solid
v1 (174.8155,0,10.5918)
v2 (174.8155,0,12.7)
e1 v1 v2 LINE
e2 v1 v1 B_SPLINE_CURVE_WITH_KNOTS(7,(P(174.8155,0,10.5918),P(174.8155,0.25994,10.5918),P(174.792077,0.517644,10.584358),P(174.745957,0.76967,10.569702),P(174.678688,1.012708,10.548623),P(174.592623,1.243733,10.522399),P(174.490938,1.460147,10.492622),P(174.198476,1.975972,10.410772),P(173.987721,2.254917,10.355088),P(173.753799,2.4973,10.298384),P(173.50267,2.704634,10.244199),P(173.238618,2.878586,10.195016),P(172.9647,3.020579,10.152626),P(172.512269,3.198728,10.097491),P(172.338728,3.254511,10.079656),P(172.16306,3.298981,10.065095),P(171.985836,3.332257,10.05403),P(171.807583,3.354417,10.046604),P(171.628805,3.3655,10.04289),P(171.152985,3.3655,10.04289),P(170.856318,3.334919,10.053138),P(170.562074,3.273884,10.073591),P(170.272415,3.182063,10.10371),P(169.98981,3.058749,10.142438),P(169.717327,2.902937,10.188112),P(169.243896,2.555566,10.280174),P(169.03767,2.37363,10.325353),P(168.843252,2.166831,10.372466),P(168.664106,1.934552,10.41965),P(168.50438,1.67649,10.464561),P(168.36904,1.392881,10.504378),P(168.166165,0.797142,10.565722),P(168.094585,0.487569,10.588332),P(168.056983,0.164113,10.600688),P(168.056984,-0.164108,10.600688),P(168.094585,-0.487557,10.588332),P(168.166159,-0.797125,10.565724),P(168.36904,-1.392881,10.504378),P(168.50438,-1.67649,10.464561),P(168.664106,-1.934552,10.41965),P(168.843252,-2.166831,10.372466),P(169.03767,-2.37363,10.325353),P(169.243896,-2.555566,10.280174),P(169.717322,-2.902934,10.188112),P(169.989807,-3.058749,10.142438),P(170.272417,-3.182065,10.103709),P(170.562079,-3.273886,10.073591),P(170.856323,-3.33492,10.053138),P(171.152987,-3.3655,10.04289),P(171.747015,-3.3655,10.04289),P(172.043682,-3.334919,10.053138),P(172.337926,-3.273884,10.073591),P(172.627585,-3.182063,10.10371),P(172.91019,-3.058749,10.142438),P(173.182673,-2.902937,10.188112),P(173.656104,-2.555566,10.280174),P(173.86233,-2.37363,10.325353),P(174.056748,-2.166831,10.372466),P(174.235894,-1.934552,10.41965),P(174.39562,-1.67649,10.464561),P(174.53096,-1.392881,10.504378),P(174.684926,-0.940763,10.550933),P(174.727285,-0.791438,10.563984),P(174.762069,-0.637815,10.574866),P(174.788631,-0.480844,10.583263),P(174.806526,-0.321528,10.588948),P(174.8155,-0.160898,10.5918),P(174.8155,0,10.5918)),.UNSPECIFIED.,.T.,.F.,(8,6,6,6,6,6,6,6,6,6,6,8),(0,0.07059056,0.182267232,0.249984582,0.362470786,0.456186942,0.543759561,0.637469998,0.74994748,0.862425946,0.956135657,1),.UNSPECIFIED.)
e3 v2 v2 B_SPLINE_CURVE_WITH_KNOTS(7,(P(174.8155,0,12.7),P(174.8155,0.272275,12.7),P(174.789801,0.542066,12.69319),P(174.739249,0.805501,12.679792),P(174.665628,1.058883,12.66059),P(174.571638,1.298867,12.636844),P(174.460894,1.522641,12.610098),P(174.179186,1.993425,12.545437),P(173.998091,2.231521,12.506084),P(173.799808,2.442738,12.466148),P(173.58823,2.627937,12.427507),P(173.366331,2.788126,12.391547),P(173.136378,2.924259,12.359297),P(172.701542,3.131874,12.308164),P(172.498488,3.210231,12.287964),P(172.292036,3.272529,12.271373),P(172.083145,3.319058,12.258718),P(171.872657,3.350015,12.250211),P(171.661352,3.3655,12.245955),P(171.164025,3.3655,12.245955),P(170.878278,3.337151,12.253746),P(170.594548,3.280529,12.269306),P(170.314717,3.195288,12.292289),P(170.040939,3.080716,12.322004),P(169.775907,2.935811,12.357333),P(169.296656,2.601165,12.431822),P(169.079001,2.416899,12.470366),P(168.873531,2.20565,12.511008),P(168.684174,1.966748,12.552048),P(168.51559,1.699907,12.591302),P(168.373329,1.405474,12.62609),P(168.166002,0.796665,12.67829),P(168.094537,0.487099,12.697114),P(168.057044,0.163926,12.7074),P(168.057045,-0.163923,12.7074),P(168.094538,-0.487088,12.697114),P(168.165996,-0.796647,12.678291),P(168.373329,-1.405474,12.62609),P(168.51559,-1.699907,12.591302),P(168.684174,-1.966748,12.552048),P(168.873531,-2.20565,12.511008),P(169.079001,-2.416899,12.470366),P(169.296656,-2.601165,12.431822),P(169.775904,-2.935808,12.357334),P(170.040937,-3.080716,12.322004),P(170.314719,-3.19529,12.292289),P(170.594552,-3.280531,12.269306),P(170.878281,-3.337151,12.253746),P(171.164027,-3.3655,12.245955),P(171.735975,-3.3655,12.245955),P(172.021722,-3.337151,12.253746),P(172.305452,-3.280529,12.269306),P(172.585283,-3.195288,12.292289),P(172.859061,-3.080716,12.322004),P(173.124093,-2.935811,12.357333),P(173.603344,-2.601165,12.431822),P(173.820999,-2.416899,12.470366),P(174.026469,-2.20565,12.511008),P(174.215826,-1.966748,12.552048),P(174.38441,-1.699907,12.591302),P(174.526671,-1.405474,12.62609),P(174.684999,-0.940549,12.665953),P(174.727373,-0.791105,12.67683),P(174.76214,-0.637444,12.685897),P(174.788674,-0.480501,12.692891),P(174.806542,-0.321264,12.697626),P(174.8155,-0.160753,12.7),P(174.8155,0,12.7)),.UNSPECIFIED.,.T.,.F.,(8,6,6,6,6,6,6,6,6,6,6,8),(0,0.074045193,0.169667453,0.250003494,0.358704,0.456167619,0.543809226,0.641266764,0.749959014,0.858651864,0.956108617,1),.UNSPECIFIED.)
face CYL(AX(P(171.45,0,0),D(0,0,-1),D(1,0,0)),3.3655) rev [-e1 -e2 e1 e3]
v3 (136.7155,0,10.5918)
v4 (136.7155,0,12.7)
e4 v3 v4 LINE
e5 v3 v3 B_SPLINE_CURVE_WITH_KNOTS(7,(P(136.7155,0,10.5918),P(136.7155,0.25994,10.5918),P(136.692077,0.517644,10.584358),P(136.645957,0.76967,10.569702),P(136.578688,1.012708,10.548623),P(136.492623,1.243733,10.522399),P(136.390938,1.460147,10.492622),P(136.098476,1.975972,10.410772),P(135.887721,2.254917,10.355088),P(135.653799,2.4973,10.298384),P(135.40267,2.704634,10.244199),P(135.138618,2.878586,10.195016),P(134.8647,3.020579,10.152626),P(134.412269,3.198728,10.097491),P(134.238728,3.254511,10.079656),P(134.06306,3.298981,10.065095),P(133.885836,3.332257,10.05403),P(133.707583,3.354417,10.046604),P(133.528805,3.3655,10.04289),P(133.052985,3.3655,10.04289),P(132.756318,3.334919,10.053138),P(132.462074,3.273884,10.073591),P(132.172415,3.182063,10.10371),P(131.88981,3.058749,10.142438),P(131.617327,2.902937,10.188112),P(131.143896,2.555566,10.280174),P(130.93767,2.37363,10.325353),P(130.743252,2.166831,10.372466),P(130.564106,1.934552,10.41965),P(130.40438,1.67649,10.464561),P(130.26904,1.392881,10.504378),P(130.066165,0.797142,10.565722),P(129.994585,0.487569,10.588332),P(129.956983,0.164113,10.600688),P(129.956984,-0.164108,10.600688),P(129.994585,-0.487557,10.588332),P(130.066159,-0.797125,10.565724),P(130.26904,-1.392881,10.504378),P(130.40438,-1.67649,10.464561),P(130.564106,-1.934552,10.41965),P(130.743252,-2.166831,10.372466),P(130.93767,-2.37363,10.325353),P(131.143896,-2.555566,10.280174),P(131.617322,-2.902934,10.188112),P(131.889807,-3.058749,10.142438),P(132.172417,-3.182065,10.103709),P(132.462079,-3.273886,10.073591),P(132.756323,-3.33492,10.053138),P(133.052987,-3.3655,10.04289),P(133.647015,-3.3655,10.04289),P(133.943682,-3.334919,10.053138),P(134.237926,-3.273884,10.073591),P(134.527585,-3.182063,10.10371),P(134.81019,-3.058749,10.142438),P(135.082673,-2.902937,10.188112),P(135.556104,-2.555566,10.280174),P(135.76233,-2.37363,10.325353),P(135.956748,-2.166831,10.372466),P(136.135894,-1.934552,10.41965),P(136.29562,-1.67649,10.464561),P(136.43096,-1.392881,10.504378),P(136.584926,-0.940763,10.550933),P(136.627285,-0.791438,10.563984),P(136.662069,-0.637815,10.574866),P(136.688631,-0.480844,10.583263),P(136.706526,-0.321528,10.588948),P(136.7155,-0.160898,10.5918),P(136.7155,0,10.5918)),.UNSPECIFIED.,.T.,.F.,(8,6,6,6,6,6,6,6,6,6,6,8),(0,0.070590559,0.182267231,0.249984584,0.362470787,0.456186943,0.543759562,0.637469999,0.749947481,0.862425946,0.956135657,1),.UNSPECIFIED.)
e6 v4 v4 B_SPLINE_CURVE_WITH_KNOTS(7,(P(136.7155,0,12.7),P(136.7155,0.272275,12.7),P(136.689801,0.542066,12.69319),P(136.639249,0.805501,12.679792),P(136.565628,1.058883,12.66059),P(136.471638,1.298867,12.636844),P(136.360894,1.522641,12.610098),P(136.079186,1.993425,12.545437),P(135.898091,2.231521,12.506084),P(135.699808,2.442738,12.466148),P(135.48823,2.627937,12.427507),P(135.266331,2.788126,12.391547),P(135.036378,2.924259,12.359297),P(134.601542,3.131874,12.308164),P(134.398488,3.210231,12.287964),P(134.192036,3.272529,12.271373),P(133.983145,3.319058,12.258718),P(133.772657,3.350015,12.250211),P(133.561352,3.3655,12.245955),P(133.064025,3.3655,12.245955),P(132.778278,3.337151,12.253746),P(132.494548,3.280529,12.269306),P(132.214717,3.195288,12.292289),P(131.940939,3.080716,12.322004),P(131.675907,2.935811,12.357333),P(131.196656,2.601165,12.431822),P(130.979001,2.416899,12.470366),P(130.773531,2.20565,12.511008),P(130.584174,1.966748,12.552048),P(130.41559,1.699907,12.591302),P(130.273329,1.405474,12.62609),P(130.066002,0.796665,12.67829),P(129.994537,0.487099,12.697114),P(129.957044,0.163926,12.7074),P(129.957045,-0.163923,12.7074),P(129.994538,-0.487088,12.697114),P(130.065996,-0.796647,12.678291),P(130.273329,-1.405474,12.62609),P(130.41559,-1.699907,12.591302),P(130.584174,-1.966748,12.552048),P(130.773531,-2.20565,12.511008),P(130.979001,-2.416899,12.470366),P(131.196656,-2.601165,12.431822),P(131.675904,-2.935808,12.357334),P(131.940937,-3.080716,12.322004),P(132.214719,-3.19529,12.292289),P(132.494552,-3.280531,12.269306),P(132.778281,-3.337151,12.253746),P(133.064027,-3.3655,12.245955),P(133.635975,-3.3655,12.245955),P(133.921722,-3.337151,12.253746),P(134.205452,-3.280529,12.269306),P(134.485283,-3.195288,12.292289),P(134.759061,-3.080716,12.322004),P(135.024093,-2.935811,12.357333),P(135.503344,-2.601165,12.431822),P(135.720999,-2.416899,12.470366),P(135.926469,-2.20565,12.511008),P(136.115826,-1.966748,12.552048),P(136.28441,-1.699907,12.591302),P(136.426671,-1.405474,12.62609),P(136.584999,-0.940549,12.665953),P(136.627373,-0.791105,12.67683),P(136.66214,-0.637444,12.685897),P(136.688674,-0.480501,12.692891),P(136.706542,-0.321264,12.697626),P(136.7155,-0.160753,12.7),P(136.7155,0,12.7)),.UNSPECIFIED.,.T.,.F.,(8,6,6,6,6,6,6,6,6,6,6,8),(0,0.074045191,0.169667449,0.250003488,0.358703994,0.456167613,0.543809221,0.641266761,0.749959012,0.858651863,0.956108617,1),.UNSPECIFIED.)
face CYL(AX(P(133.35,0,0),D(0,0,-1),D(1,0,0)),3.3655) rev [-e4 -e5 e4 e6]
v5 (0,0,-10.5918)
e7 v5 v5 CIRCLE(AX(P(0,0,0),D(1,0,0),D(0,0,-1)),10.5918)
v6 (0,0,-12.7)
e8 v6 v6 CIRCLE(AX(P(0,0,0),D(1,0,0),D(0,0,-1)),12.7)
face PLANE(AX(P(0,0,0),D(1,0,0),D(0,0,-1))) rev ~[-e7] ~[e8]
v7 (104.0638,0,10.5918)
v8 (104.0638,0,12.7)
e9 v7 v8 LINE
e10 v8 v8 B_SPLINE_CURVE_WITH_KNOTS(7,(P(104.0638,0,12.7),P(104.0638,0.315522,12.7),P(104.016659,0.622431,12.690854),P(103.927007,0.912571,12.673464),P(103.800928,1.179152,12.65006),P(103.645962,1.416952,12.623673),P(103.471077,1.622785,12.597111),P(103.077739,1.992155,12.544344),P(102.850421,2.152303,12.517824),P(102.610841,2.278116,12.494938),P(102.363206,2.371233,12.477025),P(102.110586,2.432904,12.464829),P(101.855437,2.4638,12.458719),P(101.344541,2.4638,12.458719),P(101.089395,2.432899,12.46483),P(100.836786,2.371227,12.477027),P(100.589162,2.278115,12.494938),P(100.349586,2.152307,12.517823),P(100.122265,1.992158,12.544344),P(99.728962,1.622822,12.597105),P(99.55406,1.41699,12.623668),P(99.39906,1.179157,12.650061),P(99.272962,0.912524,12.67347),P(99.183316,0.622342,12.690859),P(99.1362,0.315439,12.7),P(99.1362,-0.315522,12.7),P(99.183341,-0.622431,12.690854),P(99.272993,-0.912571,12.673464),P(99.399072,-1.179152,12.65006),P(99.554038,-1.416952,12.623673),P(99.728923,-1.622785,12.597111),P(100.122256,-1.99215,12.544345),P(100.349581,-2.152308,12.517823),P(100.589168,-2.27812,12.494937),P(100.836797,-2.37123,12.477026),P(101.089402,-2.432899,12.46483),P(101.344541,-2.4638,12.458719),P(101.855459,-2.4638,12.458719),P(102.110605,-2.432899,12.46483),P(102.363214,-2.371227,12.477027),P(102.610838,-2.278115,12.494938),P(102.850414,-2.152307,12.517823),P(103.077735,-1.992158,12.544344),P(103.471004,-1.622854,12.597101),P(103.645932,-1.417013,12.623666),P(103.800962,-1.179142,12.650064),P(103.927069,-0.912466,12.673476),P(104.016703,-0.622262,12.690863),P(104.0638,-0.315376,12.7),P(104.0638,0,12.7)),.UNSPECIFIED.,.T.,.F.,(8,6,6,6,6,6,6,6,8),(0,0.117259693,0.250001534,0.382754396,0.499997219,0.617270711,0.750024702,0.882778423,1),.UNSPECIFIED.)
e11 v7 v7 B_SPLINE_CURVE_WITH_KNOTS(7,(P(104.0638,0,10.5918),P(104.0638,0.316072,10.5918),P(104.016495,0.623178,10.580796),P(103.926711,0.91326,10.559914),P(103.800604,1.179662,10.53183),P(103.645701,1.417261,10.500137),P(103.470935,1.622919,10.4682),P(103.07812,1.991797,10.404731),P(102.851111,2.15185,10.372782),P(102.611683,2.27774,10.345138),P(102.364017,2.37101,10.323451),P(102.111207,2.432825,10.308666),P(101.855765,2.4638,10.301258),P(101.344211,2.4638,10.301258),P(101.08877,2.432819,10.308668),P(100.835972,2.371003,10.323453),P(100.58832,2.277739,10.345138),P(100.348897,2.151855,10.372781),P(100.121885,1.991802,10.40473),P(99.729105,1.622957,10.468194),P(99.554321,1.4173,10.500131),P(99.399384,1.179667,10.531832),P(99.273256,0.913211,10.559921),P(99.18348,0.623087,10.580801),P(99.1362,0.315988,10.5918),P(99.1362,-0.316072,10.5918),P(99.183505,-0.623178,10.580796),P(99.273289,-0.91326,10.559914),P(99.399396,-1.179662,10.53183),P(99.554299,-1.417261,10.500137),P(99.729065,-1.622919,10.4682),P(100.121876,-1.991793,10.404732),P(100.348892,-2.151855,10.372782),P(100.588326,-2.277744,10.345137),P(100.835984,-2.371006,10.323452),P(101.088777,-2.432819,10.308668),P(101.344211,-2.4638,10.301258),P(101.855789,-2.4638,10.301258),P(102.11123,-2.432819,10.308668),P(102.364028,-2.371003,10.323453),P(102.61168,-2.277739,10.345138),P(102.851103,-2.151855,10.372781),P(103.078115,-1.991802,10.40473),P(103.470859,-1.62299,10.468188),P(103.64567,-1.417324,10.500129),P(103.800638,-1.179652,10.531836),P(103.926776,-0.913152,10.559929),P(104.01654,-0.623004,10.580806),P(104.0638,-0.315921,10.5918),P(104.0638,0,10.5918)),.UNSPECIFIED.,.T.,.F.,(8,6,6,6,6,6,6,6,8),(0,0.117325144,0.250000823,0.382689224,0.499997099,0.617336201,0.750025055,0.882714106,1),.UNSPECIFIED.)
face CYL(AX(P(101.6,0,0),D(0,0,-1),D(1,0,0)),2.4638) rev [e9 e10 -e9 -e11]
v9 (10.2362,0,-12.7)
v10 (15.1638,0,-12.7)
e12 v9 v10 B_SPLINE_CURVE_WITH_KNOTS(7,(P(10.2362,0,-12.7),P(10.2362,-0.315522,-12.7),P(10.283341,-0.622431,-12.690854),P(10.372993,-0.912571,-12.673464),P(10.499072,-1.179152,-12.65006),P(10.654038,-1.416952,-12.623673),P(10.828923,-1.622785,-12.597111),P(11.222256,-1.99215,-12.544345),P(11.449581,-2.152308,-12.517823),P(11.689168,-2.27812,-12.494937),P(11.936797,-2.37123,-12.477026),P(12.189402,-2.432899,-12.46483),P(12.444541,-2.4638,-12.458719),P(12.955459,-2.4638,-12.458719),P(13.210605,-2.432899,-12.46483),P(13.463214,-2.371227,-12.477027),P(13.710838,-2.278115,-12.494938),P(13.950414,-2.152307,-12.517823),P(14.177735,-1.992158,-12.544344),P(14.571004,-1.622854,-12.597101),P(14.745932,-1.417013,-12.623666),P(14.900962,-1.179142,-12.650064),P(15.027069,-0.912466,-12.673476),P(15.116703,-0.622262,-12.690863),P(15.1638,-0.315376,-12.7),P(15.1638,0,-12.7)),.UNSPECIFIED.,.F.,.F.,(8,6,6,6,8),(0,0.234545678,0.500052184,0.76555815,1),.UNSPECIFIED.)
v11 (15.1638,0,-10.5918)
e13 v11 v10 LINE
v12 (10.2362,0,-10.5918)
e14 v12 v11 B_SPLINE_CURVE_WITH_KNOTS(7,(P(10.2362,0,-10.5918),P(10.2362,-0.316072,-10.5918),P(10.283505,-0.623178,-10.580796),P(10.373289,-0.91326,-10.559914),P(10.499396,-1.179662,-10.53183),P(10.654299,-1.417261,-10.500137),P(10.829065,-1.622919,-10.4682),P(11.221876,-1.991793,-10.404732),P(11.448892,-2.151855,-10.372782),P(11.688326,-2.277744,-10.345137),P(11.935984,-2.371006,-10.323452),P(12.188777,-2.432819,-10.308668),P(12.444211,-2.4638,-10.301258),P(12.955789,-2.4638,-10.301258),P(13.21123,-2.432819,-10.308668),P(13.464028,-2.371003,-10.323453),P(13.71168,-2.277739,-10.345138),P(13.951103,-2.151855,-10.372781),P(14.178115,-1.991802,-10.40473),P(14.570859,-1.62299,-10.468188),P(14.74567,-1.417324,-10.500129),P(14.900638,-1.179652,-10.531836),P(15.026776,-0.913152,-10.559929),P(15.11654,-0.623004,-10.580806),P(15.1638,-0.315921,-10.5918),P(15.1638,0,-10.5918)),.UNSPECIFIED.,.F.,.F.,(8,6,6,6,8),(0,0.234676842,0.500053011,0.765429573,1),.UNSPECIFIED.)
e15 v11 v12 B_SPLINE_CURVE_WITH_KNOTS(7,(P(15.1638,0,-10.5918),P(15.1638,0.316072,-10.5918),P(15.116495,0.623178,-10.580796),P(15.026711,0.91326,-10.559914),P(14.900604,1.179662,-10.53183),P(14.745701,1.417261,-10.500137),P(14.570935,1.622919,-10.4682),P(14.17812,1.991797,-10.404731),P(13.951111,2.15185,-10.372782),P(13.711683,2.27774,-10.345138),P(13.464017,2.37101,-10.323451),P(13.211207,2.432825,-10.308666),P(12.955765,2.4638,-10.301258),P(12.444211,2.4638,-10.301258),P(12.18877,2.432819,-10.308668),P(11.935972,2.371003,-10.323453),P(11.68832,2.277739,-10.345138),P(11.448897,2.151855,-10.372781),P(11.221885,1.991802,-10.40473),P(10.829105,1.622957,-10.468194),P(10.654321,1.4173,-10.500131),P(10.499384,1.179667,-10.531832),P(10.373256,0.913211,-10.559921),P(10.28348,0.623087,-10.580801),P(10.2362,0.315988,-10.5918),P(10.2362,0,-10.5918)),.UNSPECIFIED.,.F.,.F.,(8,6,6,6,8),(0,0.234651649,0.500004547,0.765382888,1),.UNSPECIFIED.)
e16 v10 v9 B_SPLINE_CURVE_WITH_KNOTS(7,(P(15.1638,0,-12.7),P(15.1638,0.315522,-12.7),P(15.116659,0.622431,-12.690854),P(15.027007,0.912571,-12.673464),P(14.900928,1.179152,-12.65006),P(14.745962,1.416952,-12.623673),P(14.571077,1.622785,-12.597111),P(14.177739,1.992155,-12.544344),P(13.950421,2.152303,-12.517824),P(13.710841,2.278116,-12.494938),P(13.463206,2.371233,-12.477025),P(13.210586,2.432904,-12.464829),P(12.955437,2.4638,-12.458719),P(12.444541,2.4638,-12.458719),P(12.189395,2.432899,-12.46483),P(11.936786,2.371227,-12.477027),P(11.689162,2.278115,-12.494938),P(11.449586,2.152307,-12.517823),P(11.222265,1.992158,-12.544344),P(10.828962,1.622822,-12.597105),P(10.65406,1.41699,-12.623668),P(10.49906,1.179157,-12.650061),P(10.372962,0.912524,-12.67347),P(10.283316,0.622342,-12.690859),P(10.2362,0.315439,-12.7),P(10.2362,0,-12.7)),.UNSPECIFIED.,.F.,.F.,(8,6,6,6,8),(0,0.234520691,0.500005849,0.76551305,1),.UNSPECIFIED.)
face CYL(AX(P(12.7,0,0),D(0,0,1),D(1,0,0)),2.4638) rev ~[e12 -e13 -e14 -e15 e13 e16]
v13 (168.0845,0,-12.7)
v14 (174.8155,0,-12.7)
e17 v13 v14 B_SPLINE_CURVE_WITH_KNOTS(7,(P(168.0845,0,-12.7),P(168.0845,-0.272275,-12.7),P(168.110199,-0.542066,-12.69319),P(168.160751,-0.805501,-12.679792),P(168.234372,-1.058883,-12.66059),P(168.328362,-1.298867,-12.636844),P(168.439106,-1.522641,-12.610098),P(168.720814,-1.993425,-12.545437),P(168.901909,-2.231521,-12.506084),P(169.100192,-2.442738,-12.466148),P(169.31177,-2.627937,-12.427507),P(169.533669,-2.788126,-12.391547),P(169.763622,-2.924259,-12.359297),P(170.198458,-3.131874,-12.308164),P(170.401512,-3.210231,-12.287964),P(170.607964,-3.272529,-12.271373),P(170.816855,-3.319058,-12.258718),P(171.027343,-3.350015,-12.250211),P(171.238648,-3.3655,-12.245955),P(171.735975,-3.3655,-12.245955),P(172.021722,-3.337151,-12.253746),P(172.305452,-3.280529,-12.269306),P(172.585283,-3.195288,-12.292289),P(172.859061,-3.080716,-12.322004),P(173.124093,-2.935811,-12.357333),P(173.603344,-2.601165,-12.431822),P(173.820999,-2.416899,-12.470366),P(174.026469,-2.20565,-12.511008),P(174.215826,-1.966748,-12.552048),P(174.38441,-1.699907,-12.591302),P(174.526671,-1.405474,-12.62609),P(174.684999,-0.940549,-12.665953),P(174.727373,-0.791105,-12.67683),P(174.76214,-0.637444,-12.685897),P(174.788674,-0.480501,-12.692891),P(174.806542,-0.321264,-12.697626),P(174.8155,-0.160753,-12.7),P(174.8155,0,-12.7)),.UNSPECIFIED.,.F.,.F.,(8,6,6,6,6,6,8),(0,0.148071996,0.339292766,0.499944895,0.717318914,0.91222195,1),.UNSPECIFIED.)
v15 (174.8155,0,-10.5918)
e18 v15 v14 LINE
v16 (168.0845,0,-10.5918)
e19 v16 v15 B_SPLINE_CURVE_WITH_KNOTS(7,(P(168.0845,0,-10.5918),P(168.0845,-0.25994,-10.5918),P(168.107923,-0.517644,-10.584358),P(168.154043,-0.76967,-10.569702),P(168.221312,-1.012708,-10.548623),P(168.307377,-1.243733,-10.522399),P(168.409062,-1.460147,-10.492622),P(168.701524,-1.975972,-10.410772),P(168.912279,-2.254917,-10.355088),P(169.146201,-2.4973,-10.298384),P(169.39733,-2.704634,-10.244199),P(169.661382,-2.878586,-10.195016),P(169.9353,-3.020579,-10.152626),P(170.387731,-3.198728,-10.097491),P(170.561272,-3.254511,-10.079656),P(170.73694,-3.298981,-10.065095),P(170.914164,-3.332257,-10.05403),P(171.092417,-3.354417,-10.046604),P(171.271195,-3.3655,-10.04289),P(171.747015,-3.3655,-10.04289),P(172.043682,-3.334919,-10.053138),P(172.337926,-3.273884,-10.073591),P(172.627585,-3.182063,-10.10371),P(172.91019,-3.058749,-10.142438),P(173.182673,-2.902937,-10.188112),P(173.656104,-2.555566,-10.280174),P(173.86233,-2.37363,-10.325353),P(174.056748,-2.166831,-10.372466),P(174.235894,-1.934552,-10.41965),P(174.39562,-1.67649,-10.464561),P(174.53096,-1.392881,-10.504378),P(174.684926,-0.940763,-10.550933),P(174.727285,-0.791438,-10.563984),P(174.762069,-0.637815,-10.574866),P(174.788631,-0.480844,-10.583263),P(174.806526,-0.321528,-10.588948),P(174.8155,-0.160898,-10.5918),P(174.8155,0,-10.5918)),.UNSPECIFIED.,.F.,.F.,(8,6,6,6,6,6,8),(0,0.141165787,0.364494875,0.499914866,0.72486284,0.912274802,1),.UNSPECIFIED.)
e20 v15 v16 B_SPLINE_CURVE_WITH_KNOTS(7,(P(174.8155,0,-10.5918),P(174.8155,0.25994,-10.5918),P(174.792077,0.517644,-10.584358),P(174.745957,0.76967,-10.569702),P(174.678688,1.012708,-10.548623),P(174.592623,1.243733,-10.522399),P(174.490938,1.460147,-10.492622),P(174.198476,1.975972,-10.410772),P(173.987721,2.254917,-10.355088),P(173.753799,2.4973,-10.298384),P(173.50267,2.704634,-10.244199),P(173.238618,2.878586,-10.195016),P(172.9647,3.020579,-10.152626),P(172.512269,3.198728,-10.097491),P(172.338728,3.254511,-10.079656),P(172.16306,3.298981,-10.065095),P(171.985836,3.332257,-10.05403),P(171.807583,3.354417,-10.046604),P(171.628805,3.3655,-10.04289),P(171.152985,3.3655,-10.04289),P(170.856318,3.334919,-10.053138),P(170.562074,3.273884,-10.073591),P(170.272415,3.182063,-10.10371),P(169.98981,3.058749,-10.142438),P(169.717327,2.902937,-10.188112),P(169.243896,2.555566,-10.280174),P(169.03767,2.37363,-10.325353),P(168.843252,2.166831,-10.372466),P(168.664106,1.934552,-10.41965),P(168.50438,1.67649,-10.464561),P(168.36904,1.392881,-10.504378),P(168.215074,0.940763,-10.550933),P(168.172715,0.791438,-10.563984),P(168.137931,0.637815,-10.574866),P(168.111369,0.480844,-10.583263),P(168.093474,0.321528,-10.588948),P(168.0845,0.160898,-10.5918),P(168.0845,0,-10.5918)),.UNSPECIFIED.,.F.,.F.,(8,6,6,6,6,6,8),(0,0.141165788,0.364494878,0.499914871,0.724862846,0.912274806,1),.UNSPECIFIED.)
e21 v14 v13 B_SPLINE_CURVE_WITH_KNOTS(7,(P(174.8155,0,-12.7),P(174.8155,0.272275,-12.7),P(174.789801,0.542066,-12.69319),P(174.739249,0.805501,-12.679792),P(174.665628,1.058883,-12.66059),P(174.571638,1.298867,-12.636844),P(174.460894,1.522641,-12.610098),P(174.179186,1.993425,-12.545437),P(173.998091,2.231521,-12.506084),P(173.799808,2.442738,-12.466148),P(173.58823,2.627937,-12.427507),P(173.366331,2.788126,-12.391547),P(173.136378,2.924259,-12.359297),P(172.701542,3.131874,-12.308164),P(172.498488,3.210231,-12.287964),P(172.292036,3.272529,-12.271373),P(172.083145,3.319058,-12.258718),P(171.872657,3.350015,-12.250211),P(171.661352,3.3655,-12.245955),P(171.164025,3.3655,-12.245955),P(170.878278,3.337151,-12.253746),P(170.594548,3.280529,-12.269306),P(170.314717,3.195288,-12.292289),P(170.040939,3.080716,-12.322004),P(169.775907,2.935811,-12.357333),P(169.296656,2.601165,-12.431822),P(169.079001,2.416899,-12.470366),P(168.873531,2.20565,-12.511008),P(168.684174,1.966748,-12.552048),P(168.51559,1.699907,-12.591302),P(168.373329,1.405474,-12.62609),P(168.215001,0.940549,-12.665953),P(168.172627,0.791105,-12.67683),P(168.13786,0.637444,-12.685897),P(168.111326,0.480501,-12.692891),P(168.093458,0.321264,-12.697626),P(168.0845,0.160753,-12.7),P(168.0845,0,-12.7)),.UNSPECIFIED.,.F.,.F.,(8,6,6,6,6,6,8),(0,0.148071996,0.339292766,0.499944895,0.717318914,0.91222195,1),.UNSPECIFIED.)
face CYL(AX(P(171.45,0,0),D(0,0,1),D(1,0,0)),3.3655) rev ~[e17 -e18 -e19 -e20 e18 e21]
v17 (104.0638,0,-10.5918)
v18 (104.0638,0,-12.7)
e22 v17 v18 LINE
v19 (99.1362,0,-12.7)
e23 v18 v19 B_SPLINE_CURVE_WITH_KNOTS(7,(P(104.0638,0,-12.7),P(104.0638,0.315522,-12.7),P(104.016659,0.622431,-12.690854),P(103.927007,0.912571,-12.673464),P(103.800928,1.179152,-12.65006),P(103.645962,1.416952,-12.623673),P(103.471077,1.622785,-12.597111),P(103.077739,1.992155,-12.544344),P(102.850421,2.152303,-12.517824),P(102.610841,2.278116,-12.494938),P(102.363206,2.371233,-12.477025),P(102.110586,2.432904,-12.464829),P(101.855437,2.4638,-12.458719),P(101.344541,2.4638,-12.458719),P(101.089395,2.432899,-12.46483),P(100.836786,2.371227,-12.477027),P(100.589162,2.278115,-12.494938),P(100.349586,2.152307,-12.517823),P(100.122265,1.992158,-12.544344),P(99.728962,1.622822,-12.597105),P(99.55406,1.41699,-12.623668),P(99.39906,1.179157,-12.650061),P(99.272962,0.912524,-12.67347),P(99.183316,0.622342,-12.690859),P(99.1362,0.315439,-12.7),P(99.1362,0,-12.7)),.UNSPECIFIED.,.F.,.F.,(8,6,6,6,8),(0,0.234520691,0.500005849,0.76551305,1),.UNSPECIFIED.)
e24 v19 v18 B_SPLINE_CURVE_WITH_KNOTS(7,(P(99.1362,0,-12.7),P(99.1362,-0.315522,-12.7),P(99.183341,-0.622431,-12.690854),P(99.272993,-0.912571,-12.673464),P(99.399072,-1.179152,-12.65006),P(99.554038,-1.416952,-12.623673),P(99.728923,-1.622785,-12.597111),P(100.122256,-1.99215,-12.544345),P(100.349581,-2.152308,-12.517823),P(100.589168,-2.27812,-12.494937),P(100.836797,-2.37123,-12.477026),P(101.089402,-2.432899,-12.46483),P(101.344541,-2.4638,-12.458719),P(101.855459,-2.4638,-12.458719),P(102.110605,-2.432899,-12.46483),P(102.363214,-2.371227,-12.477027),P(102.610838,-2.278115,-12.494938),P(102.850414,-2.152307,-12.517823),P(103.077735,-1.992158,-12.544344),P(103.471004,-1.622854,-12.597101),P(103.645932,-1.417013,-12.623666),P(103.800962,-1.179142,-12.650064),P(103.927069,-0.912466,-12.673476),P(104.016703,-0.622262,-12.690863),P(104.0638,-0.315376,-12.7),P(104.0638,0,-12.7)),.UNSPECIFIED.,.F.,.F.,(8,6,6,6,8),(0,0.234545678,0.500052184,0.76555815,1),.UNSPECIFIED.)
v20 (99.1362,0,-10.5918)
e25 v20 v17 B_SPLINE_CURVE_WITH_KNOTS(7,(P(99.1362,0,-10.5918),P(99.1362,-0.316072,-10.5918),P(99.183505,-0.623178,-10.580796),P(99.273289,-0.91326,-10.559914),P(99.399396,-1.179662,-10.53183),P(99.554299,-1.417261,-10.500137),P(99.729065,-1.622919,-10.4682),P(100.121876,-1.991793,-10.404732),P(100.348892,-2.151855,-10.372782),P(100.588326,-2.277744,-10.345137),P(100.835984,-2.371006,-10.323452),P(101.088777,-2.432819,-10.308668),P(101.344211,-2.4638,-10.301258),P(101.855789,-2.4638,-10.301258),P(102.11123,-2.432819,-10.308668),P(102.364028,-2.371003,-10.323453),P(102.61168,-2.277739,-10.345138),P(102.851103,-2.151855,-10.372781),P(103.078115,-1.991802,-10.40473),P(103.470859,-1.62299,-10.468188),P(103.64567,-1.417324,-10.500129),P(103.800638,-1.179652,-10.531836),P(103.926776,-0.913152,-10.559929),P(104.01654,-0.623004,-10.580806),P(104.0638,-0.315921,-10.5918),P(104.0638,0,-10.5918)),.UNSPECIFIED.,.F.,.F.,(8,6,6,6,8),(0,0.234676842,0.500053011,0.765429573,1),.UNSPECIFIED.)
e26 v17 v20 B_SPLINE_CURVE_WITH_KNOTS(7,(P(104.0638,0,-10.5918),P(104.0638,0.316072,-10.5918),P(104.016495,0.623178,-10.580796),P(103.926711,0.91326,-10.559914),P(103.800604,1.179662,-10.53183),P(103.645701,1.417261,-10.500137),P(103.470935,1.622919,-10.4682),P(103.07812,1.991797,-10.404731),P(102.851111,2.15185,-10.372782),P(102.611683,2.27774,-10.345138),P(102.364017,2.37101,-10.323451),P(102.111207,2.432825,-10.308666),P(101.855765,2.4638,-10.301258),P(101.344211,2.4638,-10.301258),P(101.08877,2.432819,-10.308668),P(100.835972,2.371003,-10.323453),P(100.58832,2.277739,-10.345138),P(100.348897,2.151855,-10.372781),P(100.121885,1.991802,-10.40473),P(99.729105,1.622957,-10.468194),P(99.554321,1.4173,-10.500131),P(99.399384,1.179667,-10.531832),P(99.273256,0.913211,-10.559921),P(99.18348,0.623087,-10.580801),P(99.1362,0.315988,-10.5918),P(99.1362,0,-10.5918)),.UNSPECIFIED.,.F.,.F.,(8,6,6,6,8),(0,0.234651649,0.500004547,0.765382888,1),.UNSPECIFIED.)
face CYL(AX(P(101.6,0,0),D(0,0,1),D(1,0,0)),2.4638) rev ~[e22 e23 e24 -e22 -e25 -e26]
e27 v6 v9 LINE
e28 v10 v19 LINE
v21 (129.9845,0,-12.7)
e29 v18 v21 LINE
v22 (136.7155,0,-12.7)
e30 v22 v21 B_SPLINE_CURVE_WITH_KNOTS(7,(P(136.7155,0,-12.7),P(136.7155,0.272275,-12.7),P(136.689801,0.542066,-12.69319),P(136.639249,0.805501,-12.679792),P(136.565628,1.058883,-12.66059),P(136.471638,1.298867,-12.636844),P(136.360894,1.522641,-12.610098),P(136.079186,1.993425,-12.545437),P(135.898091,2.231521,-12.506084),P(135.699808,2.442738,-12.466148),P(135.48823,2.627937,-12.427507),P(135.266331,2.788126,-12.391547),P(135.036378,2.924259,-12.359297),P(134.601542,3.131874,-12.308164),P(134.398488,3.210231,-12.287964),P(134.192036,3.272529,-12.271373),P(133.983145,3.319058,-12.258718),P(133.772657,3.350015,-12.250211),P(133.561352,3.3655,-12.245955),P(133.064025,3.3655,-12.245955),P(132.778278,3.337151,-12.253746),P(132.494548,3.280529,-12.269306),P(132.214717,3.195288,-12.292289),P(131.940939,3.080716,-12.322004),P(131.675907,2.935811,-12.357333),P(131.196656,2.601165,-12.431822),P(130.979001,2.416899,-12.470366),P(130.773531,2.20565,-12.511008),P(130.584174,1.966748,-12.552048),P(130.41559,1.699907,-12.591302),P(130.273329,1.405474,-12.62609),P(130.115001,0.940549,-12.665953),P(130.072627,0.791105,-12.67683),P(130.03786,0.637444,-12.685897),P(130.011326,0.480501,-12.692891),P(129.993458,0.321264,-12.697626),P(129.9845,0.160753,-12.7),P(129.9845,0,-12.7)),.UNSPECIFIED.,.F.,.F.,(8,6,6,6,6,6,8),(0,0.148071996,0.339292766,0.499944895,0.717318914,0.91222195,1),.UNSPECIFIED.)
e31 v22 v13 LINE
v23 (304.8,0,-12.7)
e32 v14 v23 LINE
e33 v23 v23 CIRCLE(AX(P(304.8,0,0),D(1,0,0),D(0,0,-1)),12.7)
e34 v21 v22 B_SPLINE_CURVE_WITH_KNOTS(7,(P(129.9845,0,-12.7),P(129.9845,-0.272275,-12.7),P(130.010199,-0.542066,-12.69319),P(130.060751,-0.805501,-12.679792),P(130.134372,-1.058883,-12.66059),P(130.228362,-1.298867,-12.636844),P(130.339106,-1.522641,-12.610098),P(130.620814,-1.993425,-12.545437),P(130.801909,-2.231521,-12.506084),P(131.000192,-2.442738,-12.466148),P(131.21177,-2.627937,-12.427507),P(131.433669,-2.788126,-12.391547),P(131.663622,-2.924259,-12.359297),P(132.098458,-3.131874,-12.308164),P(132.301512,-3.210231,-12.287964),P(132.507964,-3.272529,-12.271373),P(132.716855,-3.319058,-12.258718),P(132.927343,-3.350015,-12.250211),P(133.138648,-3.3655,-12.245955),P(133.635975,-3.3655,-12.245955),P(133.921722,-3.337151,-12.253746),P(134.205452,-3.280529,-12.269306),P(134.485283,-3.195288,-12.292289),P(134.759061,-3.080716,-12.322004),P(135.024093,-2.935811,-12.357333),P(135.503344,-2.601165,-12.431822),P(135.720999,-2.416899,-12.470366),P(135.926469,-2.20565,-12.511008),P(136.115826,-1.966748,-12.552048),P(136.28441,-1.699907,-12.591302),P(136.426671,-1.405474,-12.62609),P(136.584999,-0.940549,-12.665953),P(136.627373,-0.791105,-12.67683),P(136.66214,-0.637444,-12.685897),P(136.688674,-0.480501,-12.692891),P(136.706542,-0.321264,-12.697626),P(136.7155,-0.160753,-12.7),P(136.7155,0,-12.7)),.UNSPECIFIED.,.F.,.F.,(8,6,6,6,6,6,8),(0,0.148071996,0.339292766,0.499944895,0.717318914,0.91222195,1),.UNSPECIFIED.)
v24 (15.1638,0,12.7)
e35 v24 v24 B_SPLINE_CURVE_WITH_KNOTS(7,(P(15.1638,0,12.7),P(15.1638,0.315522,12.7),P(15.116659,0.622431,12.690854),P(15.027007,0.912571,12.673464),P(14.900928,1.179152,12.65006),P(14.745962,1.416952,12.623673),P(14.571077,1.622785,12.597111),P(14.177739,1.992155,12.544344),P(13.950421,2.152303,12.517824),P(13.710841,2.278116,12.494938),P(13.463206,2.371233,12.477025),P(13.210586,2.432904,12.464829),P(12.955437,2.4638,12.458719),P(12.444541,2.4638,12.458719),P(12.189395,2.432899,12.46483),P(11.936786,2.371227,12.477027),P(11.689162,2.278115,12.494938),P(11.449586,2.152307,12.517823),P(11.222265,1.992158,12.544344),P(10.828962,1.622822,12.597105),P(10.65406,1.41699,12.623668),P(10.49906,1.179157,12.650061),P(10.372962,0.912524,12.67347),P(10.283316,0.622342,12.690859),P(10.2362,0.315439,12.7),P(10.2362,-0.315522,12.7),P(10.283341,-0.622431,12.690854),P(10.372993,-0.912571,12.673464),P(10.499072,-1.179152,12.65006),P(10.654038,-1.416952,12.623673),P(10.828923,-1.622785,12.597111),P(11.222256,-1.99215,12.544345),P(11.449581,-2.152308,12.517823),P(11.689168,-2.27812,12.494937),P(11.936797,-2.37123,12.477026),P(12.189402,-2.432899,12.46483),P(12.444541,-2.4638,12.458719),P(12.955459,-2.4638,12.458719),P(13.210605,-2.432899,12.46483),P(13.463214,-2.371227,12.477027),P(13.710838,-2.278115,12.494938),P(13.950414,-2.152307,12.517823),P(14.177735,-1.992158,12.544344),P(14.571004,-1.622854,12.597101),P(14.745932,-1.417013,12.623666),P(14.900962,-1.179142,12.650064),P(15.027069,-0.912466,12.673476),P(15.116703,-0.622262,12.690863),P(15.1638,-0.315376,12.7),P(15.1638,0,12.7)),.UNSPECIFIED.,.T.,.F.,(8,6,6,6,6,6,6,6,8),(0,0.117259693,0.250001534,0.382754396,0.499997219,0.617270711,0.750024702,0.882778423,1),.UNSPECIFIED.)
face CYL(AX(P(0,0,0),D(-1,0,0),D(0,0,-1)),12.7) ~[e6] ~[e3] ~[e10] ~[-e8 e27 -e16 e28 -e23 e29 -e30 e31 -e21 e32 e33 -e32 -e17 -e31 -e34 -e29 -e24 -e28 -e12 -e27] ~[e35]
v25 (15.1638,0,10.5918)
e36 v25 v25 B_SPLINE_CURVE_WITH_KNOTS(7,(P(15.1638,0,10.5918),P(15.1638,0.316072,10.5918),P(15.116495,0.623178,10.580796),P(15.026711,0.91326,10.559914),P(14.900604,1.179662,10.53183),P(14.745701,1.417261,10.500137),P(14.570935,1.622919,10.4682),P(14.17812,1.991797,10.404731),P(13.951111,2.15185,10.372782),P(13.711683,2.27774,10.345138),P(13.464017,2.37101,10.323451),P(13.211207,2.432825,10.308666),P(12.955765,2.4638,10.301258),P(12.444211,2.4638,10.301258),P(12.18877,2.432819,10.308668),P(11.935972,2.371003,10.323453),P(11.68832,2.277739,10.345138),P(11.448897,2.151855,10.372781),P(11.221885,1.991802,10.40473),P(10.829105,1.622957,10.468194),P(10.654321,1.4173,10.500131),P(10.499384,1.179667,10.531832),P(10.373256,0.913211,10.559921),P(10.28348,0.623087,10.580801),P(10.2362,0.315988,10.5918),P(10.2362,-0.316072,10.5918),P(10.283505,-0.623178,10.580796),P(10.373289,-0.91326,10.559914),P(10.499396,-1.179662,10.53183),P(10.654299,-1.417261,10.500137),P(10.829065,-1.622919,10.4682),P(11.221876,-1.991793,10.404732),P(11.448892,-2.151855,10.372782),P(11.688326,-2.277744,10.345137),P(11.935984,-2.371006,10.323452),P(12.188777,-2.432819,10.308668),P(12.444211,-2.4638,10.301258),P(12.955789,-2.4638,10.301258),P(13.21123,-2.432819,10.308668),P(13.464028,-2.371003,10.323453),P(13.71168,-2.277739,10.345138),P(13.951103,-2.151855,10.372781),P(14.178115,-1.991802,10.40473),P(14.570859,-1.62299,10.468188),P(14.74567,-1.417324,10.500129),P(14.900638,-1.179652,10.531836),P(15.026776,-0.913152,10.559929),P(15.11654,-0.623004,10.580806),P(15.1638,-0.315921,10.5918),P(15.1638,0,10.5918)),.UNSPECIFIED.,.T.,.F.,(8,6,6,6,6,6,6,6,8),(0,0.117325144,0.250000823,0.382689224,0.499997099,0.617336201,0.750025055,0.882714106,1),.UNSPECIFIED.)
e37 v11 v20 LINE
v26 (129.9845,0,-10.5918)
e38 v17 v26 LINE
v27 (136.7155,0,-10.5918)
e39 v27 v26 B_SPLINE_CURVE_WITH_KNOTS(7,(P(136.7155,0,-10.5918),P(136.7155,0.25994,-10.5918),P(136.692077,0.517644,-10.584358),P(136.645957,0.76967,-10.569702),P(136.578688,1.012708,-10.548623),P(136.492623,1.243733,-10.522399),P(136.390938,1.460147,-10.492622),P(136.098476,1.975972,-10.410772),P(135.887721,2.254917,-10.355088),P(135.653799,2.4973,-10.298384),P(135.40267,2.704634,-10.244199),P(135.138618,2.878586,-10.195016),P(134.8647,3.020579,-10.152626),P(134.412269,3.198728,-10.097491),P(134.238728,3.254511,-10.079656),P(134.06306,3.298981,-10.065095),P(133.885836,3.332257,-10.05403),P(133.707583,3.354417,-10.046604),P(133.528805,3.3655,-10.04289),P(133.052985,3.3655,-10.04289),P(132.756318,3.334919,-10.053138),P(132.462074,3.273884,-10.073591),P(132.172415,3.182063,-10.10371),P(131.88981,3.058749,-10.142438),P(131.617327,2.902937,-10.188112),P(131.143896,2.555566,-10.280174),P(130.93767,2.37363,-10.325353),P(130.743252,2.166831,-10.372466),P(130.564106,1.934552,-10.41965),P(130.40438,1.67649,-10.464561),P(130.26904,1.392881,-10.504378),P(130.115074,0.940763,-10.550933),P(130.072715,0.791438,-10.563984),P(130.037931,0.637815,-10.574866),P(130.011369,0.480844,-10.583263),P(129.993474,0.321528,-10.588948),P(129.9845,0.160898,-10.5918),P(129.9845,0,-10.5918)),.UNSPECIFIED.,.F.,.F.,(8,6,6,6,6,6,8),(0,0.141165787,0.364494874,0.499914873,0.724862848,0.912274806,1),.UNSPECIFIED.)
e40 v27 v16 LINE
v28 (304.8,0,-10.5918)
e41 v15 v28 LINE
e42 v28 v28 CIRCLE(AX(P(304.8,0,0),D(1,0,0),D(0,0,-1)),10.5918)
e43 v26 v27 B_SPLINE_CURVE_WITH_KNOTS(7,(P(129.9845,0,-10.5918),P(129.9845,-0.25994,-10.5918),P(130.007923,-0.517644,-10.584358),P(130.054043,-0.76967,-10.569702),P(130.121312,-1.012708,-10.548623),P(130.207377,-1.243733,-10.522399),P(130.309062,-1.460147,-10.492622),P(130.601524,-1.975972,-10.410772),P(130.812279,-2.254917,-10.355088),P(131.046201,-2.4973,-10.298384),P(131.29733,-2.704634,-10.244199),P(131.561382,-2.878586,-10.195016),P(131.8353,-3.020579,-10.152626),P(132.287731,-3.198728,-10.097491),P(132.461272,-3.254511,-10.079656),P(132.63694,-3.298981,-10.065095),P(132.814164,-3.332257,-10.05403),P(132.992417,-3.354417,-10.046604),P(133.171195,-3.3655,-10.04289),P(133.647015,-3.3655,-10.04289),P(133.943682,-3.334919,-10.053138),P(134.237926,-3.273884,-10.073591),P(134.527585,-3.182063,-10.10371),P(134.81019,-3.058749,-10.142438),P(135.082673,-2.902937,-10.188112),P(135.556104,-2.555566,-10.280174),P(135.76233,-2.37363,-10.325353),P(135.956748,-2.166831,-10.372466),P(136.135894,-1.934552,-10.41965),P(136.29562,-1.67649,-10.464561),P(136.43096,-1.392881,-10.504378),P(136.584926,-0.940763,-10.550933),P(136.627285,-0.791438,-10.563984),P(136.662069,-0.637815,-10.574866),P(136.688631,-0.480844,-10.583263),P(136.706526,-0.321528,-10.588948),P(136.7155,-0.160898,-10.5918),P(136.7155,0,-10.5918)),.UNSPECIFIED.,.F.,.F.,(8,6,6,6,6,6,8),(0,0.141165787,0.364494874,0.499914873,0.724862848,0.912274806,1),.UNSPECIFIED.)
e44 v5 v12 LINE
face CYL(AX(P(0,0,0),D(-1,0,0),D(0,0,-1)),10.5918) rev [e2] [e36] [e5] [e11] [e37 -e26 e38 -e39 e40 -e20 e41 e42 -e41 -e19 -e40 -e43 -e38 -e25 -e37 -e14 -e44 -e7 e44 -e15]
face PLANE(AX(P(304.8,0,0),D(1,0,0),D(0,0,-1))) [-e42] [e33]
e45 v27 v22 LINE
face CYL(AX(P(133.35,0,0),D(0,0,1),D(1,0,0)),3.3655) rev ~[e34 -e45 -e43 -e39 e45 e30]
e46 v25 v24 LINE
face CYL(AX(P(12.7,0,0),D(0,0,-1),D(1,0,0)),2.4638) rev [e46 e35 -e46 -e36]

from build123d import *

# Parameters (mm, degrees)
SKETCH1_R               = 12.7
SKETCH1_R_2             = 10.5918
BOSS_EXTRUDE1_DEPTH     = 304.8
SKETCH8_R               = 2.4638
SKETCH8_R_2             = 3.3655
CUT_EXTRUDE1_DEPTH      = 13.7
CUT_EXTRUDE1_DEPTH_BACK = 13.7


with BuildPart() as part:
    # Sketch1 → Boss-Extrude1 (new body)
    with BuildSketch(Plane(origin=(0, 0, 0), x_dir=(0, 0, -1), z_dir=(1, 0, 0))):
        Circle(SKETCH1_R)
        Circle(SKETCH1_R_2, mode=Mode.SUBTRACT)
    extrude(amount=BOSS_EXTRUDE1_DEPTH)

    # Sketch8 → Cut-Extrude1 (cut, two sides)
    with BuildSketch(Plane.XY) as cut_extrude1_sk:
        with Locations((12.7, 0)):
            Circle(SKETCH8_R)
        with Locations((101.6, 0)):
            Circle(SKETCH8_R)
        with Locations((133.35, 0)):
            Circle(SKETCH8_R_2)
        with Locations((171.45, 0)):
            Circle(SKETCH8_R_2)
    extrude(amount=CUT_EXTRUDE1_DEPTH, mode=Mode.SUBTRACT)
    extrude(cut_extrude1_sk.sketch, amount=-CUT_EXTRUDE1_DEPTH_BACK, mode=Mode.SUBTRACT)


solid = part.part
